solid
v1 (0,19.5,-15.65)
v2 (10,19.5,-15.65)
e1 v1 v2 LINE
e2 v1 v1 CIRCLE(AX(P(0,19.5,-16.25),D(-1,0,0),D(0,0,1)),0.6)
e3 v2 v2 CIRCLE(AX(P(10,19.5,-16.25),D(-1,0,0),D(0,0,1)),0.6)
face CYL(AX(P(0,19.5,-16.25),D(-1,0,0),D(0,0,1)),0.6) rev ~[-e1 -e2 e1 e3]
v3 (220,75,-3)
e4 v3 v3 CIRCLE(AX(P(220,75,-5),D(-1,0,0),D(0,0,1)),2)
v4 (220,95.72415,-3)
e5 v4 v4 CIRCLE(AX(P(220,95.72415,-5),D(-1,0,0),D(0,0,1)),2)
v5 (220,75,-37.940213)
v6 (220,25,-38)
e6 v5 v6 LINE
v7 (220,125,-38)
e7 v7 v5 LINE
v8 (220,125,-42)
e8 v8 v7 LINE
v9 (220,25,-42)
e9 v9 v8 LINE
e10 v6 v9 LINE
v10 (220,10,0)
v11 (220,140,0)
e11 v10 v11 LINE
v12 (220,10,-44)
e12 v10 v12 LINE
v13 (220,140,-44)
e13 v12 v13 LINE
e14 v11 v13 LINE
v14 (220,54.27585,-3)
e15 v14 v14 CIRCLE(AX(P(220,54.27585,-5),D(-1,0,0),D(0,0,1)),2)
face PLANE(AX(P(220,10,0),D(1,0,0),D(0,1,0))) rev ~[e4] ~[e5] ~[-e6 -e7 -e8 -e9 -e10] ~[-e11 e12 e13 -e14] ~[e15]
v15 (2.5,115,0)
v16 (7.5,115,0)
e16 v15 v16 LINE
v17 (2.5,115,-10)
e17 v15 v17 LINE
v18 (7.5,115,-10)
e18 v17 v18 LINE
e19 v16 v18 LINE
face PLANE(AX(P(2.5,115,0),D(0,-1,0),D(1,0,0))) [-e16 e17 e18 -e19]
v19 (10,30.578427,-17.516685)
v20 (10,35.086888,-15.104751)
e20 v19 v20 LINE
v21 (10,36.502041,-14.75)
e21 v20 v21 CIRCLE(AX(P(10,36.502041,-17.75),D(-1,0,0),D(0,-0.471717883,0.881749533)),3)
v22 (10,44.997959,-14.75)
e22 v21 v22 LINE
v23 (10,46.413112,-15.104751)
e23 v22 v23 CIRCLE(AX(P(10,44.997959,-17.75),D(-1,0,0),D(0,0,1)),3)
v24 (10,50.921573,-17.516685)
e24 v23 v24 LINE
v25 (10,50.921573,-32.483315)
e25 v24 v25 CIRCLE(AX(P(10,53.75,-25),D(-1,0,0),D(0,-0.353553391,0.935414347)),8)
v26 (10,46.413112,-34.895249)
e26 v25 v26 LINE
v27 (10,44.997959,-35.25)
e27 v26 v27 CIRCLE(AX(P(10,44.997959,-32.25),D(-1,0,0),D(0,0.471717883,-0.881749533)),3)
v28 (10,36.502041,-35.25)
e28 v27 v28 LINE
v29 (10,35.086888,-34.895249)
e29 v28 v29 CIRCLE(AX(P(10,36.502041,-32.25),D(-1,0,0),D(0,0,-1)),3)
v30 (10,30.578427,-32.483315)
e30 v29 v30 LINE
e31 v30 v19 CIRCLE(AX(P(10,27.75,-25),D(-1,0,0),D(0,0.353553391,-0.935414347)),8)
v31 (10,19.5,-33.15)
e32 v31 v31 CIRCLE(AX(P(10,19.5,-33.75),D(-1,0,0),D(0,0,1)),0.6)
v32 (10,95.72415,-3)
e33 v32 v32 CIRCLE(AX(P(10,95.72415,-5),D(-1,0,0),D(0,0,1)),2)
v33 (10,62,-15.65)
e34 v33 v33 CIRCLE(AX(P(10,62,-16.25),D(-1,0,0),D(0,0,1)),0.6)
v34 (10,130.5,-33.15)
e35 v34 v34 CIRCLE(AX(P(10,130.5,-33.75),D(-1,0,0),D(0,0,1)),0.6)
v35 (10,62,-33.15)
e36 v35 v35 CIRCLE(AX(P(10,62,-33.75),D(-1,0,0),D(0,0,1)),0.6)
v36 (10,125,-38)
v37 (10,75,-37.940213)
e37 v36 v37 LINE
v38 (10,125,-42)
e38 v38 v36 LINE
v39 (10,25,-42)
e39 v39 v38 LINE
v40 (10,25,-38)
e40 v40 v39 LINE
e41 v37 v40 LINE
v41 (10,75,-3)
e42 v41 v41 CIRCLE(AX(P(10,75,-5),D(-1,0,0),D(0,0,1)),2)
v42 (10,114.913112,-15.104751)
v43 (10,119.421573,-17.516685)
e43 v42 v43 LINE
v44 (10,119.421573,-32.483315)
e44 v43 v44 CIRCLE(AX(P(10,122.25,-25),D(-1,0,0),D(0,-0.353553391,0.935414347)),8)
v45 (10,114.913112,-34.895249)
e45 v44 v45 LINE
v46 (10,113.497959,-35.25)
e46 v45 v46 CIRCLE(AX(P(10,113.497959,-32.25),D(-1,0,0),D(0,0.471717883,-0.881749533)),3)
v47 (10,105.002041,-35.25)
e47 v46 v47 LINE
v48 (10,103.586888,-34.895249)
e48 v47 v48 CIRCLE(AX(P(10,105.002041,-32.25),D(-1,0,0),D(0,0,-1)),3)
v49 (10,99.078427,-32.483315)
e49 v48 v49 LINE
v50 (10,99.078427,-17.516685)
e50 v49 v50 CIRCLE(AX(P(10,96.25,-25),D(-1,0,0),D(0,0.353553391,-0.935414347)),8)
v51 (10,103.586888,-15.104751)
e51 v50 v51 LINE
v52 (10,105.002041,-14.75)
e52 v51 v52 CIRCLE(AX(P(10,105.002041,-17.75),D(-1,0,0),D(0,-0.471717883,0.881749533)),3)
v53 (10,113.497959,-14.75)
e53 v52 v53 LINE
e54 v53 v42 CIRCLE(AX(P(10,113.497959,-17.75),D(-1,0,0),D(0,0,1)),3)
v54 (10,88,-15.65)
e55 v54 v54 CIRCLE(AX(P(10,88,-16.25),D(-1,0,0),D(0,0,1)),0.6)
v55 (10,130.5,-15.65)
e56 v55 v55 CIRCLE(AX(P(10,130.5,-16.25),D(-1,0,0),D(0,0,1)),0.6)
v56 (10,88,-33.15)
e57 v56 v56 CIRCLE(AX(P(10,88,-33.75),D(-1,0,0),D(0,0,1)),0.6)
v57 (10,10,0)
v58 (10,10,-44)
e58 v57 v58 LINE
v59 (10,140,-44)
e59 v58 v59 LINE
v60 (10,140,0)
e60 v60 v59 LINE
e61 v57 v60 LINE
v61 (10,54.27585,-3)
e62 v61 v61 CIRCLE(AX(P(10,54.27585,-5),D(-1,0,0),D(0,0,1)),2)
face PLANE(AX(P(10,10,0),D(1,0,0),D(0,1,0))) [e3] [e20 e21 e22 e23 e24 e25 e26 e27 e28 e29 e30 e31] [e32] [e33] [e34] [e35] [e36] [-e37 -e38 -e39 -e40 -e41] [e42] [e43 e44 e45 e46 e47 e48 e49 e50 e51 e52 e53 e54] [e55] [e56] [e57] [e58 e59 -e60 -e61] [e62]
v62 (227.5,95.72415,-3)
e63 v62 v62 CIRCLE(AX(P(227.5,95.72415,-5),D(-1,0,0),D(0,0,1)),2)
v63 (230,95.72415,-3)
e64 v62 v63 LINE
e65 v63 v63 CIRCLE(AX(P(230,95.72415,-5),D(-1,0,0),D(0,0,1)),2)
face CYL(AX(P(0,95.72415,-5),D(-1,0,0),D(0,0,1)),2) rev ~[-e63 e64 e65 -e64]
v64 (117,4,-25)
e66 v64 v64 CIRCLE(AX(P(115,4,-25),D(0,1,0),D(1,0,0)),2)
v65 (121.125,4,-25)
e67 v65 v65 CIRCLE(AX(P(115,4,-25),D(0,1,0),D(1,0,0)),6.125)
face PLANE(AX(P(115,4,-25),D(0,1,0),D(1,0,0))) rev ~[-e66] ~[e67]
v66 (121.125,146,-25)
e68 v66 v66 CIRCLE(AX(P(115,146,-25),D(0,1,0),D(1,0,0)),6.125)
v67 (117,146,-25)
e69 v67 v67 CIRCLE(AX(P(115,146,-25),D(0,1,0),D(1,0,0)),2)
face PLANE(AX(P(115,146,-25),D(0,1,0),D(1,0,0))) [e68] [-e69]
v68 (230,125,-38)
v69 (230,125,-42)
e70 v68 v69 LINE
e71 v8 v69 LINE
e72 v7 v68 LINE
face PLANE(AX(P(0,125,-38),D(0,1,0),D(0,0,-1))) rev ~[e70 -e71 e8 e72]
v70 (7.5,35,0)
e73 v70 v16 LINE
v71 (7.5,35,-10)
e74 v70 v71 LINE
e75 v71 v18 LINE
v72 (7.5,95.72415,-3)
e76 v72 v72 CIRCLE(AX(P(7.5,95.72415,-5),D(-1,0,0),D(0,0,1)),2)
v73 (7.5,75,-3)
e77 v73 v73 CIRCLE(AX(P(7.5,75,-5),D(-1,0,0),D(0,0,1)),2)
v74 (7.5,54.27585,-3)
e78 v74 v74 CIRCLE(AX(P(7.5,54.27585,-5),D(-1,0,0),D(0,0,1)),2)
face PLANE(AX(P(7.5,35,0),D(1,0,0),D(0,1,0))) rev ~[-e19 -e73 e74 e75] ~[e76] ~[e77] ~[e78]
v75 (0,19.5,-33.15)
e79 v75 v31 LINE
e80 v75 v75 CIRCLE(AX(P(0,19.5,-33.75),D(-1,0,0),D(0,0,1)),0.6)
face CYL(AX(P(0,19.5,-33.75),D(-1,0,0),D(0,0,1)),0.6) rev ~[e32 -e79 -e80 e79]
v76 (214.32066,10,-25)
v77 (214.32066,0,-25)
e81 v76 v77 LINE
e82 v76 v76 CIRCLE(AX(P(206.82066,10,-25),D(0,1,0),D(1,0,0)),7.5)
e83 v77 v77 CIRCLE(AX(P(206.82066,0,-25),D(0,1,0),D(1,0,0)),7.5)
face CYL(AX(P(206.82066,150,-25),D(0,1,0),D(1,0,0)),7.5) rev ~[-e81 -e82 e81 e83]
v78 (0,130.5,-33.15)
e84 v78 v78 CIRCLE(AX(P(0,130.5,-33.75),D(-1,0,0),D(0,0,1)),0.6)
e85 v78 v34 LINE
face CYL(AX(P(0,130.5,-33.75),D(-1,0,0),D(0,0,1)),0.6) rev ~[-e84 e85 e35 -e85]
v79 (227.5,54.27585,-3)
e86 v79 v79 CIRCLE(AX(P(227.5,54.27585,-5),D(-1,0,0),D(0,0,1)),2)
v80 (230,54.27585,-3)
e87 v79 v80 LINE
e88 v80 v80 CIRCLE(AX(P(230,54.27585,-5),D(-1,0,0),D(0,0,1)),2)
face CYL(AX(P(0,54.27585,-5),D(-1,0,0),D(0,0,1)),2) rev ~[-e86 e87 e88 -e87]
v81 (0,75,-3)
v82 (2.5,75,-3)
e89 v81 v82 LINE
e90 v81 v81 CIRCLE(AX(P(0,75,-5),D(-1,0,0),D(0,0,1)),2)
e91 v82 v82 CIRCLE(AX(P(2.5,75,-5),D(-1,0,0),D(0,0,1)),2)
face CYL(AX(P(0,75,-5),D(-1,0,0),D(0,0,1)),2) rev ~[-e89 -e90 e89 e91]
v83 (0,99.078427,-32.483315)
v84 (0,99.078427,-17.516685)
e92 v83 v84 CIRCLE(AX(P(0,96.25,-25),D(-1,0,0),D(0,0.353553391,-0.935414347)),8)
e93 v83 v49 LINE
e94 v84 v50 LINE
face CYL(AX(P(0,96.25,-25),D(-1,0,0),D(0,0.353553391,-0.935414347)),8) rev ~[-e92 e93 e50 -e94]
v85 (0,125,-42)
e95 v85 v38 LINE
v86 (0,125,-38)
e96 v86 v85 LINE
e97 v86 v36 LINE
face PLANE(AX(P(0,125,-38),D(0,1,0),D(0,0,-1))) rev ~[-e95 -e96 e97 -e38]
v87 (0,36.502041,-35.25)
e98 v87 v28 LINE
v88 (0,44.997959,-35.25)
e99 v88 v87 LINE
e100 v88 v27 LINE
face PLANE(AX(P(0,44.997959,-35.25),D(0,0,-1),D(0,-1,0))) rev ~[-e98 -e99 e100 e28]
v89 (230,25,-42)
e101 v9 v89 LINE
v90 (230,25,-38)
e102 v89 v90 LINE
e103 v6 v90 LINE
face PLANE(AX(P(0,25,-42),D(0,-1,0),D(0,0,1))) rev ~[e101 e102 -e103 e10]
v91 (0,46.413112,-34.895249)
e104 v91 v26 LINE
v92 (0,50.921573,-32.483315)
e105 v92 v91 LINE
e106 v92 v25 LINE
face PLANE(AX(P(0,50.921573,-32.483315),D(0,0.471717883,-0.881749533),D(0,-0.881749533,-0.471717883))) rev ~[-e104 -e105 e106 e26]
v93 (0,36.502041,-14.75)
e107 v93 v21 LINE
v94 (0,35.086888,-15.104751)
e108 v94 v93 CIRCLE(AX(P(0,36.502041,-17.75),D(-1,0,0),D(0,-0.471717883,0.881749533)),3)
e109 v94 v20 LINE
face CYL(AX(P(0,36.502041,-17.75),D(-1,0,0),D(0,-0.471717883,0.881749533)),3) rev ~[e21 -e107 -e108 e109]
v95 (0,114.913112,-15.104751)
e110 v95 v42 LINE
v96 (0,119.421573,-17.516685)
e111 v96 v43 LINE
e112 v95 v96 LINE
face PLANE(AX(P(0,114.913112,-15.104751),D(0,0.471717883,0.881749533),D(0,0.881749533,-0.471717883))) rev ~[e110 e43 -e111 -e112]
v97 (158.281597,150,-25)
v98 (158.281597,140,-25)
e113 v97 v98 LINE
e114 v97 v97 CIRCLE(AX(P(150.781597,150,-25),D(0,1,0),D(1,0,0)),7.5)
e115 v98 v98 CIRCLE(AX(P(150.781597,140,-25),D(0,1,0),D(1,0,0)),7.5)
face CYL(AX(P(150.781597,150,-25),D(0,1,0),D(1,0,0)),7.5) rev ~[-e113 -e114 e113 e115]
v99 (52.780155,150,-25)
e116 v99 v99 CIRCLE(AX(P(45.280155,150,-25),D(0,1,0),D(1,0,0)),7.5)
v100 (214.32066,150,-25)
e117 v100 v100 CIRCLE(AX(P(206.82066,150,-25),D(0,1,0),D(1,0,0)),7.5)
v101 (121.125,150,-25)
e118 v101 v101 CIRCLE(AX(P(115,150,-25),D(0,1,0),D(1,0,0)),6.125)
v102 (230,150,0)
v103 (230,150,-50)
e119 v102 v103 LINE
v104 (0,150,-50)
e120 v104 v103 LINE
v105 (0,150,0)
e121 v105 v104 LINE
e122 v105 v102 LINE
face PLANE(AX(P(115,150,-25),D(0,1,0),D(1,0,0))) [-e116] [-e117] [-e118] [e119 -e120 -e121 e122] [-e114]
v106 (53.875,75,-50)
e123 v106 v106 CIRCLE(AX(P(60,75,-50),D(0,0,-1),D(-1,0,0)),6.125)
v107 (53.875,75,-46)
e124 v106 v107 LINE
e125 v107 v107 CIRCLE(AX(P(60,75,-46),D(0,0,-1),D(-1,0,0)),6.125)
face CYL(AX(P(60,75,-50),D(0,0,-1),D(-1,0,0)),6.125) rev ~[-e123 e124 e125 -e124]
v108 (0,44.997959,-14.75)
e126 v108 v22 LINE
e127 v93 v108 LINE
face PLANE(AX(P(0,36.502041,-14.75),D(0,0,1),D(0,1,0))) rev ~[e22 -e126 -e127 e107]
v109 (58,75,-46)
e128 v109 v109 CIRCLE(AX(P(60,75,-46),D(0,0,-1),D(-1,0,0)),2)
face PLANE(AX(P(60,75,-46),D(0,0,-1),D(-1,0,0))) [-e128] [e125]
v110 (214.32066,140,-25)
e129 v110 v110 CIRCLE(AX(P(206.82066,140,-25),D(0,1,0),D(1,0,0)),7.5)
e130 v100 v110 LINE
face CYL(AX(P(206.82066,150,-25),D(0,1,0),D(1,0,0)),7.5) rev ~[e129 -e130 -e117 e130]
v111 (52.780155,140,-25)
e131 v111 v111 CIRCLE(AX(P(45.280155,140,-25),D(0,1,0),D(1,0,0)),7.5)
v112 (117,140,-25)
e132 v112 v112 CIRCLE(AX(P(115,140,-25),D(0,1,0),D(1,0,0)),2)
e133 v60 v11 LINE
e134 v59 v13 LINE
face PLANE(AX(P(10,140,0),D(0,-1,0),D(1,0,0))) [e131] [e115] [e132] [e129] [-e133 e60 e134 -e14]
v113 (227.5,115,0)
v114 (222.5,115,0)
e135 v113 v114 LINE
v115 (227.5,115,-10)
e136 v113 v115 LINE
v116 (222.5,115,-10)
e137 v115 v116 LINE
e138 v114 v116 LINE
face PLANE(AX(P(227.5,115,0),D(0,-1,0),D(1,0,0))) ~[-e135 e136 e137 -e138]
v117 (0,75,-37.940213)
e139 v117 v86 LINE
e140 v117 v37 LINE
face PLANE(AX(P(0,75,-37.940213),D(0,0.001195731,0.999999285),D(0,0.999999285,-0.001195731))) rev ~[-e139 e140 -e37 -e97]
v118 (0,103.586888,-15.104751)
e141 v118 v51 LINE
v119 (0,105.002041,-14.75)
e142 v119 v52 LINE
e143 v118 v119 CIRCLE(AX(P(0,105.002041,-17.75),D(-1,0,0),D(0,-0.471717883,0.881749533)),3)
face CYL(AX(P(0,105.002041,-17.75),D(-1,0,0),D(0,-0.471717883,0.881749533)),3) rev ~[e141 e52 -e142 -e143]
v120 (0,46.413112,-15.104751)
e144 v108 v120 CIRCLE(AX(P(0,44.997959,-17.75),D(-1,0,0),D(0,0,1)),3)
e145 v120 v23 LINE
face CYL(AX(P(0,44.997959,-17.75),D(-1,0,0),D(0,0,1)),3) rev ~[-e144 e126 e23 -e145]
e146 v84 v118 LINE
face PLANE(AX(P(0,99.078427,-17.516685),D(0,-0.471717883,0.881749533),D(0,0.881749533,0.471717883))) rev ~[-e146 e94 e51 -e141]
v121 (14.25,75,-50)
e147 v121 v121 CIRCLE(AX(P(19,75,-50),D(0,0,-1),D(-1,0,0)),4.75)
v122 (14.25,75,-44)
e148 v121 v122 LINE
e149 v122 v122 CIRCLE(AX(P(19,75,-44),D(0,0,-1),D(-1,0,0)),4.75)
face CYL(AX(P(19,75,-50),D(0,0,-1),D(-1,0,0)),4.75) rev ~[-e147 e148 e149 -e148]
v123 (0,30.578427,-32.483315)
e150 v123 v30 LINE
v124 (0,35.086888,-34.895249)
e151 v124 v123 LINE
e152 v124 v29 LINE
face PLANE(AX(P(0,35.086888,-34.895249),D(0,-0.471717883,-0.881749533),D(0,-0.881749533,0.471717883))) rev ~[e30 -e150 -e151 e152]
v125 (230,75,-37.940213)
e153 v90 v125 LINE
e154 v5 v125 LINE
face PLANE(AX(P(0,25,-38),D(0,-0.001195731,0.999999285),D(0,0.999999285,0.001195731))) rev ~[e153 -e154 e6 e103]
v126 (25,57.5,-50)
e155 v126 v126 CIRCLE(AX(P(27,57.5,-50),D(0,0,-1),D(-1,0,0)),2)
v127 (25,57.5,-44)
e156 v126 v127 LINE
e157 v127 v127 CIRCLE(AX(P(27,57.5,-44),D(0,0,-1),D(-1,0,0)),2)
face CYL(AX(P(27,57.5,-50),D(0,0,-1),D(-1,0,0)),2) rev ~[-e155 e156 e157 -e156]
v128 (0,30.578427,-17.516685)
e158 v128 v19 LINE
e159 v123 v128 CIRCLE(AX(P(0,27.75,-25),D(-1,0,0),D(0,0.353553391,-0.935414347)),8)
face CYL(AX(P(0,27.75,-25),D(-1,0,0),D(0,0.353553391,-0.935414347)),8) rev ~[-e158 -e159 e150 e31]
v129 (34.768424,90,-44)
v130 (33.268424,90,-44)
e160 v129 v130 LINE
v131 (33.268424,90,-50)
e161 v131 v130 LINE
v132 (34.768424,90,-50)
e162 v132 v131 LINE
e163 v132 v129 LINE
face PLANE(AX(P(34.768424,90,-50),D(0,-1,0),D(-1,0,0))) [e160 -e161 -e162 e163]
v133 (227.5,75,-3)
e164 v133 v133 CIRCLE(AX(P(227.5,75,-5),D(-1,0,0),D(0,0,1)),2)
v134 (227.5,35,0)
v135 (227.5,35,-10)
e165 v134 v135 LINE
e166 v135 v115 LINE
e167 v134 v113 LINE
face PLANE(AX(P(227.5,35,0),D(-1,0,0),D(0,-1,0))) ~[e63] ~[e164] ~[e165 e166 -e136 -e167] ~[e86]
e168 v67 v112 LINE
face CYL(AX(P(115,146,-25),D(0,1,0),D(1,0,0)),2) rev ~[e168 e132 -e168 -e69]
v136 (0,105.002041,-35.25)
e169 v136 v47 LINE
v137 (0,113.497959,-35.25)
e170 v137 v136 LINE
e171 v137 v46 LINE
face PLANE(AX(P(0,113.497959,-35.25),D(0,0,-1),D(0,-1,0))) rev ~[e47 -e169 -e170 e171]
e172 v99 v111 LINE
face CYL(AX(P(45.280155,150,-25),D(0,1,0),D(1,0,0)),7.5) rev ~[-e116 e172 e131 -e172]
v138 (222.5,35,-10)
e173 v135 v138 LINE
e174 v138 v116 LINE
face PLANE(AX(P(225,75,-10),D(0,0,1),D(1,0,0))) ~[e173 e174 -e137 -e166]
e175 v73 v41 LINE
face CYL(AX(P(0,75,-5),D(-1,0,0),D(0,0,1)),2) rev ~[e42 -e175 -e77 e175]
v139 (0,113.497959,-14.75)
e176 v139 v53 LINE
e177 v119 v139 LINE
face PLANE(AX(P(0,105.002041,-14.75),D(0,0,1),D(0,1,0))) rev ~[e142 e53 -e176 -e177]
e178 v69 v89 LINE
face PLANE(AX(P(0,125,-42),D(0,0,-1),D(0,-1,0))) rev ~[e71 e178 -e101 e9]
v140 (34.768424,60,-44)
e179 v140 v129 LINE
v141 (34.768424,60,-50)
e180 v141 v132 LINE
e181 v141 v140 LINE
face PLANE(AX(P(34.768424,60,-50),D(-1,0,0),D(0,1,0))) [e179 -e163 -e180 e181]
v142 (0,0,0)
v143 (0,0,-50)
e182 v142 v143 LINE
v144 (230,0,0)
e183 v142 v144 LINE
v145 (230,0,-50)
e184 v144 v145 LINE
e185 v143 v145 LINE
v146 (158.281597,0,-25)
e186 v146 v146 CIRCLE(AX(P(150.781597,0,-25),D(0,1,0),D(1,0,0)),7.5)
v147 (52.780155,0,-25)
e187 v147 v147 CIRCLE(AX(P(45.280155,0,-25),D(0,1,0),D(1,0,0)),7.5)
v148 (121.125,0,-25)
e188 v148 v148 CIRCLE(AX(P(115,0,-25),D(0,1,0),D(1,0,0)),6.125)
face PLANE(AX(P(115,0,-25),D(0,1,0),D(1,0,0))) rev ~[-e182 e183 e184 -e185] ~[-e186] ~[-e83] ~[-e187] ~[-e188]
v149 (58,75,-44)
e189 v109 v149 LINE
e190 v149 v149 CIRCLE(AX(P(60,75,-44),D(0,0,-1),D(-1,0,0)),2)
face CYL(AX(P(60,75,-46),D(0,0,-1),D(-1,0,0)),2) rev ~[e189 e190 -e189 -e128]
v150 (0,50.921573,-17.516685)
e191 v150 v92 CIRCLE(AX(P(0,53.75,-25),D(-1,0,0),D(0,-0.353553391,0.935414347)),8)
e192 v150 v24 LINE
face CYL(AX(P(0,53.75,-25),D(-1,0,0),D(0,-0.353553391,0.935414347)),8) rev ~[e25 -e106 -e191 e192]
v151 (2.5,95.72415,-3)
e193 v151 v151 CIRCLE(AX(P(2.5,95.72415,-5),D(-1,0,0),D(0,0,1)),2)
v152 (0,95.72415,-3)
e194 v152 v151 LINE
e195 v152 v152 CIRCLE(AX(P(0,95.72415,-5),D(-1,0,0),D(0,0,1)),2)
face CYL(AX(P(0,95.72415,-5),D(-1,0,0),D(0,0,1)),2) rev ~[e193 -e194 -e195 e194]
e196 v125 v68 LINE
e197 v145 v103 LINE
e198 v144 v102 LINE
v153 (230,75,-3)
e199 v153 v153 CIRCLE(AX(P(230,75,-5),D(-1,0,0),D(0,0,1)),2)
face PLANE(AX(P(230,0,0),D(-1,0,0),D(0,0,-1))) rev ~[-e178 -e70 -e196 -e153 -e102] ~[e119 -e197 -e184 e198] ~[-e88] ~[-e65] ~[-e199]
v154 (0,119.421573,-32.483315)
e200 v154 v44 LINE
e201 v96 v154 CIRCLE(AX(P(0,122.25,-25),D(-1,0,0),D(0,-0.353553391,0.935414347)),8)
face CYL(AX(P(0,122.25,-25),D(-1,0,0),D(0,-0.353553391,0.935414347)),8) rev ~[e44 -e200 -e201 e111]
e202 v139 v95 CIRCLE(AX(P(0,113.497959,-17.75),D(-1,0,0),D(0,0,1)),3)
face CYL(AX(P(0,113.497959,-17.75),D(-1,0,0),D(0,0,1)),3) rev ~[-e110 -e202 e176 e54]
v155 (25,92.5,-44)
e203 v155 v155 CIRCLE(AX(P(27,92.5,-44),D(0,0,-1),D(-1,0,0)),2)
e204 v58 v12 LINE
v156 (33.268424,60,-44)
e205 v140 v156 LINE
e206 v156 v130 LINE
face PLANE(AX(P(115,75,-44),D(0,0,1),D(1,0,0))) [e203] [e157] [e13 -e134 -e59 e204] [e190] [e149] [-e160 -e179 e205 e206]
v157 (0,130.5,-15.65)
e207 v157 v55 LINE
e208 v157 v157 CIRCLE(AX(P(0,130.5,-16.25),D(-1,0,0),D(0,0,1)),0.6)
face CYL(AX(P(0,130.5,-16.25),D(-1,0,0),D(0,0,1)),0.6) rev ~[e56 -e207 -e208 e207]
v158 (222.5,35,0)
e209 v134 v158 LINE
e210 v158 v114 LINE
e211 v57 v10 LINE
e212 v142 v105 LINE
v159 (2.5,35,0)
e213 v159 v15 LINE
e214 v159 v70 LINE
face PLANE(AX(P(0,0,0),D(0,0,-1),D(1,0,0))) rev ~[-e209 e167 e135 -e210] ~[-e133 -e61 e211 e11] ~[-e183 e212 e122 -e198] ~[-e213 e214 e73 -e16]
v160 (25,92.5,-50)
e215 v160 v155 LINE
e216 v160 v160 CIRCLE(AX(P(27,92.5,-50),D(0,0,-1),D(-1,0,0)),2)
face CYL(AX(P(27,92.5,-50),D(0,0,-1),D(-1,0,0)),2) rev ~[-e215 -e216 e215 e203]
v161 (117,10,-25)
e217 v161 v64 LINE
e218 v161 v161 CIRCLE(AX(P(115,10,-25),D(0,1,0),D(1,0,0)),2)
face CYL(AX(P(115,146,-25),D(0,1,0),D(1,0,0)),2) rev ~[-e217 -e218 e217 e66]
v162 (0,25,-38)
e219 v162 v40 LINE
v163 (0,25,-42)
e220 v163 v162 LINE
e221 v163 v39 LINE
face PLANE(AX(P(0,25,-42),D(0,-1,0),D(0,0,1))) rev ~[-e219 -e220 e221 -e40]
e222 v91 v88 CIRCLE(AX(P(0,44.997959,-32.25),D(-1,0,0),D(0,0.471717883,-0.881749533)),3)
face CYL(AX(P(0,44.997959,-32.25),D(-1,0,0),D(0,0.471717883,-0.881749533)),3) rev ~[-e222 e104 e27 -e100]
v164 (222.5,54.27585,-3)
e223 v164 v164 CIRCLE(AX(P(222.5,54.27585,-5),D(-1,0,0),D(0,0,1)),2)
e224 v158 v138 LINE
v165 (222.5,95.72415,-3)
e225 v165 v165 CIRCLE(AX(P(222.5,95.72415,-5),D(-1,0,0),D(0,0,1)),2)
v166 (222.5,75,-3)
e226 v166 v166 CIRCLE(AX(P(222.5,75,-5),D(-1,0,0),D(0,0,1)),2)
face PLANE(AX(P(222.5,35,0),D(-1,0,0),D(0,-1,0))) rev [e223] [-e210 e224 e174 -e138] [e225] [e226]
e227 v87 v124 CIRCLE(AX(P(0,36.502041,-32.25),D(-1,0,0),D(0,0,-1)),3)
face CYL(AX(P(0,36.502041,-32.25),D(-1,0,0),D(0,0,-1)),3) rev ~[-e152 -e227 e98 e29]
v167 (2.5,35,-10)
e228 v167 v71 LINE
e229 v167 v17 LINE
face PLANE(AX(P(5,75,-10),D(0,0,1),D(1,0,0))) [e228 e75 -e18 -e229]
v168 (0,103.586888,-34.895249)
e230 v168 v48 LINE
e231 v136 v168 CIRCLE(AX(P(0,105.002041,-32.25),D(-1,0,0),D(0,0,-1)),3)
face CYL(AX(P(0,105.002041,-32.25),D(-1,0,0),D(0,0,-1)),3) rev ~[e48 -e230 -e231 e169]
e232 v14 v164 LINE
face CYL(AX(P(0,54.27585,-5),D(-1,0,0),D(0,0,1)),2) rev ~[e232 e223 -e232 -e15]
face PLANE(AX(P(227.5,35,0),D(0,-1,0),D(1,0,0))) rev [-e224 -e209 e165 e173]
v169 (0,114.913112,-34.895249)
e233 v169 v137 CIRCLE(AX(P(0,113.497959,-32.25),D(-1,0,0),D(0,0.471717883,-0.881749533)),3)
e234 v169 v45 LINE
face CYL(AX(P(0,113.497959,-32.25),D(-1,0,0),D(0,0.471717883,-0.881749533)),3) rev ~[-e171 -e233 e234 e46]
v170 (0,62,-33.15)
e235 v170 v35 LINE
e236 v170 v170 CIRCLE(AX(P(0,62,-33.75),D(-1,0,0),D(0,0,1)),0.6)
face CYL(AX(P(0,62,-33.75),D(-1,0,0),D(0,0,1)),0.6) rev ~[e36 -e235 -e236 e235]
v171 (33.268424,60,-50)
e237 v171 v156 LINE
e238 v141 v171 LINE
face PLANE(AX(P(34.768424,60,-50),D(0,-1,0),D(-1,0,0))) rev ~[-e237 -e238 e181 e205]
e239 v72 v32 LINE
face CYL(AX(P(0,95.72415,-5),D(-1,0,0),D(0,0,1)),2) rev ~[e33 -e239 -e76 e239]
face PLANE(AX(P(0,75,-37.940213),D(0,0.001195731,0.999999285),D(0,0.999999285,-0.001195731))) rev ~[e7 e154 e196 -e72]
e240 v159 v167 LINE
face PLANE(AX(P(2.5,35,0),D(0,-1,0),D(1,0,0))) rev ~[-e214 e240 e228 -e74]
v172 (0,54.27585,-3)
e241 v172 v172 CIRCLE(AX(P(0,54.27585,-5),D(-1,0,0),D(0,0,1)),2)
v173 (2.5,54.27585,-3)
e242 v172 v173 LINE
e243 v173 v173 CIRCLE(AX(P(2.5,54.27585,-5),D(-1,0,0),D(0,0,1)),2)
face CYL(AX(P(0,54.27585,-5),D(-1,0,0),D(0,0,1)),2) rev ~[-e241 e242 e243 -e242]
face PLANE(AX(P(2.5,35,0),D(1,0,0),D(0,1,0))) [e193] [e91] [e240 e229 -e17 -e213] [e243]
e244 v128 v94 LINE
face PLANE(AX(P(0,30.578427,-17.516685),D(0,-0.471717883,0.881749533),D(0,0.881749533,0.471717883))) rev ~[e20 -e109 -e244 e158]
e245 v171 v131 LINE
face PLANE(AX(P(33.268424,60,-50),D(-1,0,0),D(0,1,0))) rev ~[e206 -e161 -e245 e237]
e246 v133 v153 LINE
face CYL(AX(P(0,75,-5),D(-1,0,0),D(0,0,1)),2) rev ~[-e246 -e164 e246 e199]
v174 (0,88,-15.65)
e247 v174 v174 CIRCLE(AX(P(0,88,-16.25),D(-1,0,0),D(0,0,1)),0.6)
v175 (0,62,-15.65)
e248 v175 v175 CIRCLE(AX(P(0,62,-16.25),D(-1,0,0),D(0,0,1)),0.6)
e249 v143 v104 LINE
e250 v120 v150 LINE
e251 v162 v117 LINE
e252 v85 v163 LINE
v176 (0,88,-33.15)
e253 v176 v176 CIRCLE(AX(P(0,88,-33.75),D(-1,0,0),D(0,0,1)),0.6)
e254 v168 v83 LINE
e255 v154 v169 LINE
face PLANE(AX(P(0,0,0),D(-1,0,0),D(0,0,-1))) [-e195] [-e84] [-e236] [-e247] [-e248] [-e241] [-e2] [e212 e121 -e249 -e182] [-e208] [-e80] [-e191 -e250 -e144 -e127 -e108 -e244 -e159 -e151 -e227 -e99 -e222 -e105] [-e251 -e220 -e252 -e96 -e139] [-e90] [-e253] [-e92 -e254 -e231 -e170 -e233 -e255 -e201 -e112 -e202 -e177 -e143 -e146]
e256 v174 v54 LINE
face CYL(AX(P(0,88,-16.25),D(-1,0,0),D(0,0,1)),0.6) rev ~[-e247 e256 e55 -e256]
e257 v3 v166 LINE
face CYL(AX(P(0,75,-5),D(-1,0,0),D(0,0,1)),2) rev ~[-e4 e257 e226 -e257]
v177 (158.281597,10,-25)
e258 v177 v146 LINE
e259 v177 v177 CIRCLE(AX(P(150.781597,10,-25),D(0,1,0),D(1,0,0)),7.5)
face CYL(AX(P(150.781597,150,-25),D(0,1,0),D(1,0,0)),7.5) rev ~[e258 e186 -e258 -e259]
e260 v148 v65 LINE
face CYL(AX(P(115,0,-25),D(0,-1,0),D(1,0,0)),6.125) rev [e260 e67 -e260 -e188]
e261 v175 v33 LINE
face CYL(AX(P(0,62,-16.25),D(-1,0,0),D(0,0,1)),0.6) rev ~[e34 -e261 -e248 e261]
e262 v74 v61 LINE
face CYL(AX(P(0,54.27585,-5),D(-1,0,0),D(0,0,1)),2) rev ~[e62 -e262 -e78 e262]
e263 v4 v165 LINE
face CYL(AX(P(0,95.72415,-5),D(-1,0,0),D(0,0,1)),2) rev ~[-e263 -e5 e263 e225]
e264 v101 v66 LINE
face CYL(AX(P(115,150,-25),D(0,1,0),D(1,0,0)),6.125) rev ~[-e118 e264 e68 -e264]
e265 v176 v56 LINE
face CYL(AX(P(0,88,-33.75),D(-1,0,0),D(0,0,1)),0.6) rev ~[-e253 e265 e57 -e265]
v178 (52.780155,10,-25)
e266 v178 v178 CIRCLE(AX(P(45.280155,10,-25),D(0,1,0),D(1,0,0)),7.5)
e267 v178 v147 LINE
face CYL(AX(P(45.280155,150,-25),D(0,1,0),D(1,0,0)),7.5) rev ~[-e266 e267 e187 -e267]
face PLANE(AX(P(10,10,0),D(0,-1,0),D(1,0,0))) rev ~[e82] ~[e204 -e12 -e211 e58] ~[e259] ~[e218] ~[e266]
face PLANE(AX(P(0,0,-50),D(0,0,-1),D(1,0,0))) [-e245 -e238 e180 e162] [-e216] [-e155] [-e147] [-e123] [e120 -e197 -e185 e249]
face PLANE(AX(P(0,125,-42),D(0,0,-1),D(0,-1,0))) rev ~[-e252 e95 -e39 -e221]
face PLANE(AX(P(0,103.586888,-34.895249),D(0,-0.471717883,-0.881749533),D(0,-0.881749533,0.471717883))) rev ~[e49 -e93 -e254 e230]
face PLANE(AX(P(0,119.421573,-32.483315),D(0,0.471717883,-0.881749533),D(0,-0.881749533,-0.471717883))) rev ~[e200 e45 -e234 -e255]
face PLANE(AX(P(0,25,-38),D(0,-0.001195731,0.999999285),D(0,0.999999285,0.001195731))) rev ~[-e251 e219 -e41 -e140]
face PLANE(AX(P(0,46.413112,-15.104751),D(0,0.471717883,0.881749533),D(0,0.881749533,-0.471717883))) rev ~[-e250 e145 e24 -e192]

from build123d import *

# Parameters (mm, degrees)
SKETCH1_W           = 230
SKETCH1_H           = 50
BOSS_EXTRUDE1_DEPTH = 150
SKETCH2_W           = 210
SKETCH2_H           = 130
CUT_EXTRUDE1_DEPTH  = 44
SKETCH3_R           = 6.125
CUT_EXTRUDE2_DEPTH  = 4
SKETCH4_R           = 6.125
CUT_EXTRUDE4_DEPTH  = 4
SKETCH5_R           = 6.125
CUT_EXTRUDE5_DEPTH  = 4
SKETCH7_R           = 2
CUT_EXTRUDE7_DEPTH  = 47
SKETCH8_R           = 2
CUT_EXTRUDE8_DEPTH  = 147
CUT_EXTRUDE9_REACH  = 52
SKETCH10_R          = 2
SKETCH10_R_2        = 4.75
SKETCH10_W          = 1.5
SKETCH10_H          = 30
SKETCH11_R          = 7.5
CUT_EXTRUDE10_DEPTH = 151
CUT_EXTRUDE12_REACH = 232
SKETCH14_R          = 0.6
SKETCH15_W          = 5
SKETCH15_H          = 80
CUT_EXTRUDE13_DEPTH = 10
SKETCH16_R          = 2
CUT_EXTRUDE14_DEPTH = 231
CUT_EXTRUDE15_DEPTH = 231


with BuildPart() as part:
    # Sketch1 → Boss-Extrude1 (new body)
    with BuildSketch(Plane(origin=(0, 0, 0), x_dir=(1, 0, 0), z_dir=(0, 1, 0))):
        with Locations((115, 25)):
            Rectangle(SKETCH1_W, SKETCH1_H)
    extrude(amount=BOSS_EXTRUDE1_DEPTH)

    # Sketch2 → Cut-Extrude1 (cut)
    with BuildSketch(Plane.XY):
        with Locations((115, 75)):
            Rectangle(SKETCH2_W, SKETCH2_H)
    extrude(amount=-CUT_EXTRUDE1_DEPTH, mode=Mode.SUBTRACT)

    # Sketch3 → Cut-Extrude2 (cut)
    with BuildSketch(Plane(origin=(0, 150, 0), x_dir=(1, 0, 0), z_dir=(0, 1, 0))):
        with Locations((115, 25)):
            Circle(SKETCH3_R)
    extrude(amount=-CUT_EXTRUDE2_DEPTH, mode=Mode.SUBTRACT)

    # Sketch4 → Cut-Extrude4 (cut)
    with BuildSketch(Plane(origin=(0, 0, 0), x_dir=(1, 0, 0), z_dir=(0, 1, 0))):
        with Locations((115, 25)):
            Circle(SKETCH4_R)
    extrude(amount=CUT_EXTRUDE4_DEPTH, mode=Mode.SUBTRACT)

    # Sketch5 → Cut-Extrude5 (cut)
    with BuildSketch(Plane(origin=(0, 0, -50), x_dir=(-1, 0, 0), z_dir=(0, 0, -1))):
        with Locations((-60, 75)):
            Circle(SKETCH5_R)
    extrude(amount=-CUT_EXTRUDE5_DEPTH, mode=Mode.SUBTRACT)

    # Sketch7 → Cut-Extrude7 (cut, through all)
    with BuildSketch(Plane(origin=(0, 0, -46), x_dir=(-1, 0, 0), z_dir=(0, 0, -1))):
        with Locations((-60, 75)):
            Circle(SKETCH7_R)
    extrude(amount=-CUT_EXTRUDE7_DEPTH, mode=Mode.SUBTRACT)

    # Sketch8 → Cut-Extrude8 (cut, through all)
    with BuildSketch(Plane(origin=(0, 146, 0), x_dir=(1, 0, 0), z_dir=(0, 1, 0))):
        with Locations((115, 25)):
            Circle(SKETCH8_R)
    extrude(amount=-CUT_EXTRUDE8_DEPTH, mode=Mode.SUBTRACT)

    # Sketch10 → Cut-Extrude9 (cut, up to next)
    with BuildSketch(Plane(origin=(0, 0, -50), x_dir=(-1, 0, 0), z_dir=(0, 0, -1)), mode=Mode.PRIVATE) as cut_extrude9_sk1:
        with Locations((-27, 92.5)):
            Circle(SKETCH10_R)
    cut_extrude9_tool1 = extrude(cut_extrude9_sk1.sketch, amount=-CUT_EXTRUDE9_REACH, mode=Mode.PRIVATE) & part.part
    add(cut_extrude9_tool1.solids().sort_by_distance((27, 92.5, -50))[0], mode=Mode.SUBTRACT)
    # Sketch10 → Cut-Extrude9 (cut, up to next)
    with BuildSketch(Plane(origin=(0, 0, -50), x_dir=(-1, 0, 0), z_dir=(0, 0, -1)), mode=Mode.PRIVATE) as cut_extrude9_sk2:
        with Locations((-27, 57.5)):
            Circle(SKETCH10_R)
    cut_extrude9_tool2 = extrude(cut_extrude9_sk2.sketch, amount=-CUT_EXTRUDE9_REACH, mode=Mode.PRIVATE) & part.part
    add(cut_extrude9_tool2.solids().sort_by_distance((27, 57.5, -50))[0], mode=Mode.SUBTRACT)
    # Sketch10 → Cut-Extrude9 (cut, up to next)
    with BuildSketch(Plane(origin=(0, 0, -50), x_dir=(-1, 0, 0), z_dir=(0, 0, -1)), mode=Mode.PRIVATE) as cut_extrude9_sk3:
        with Locations((-19, 75)):
            Circle(SKETCH10_R_2)
    cut_extrude9_tool3 = extrude(cut_extrude9_sk3.sketch, amount=-CUT_EXTRUDE9_REACH, mode=Mode.PRIVATE) & part.part
    add(cut_extrude9_tool3.solids().sort_by_distance((19, 75, -50))[0], mode=Mode.SUBTRACT)
    # Sketch10 → Cut-Extrude9 (cut, up to next)
    with BuildSketch(Plane(origin=(0, 0, -50), x_dir=(-1, 0, 0), z_dir=(0, 0, -1)), mode=Mode.PRIVATE) as cut_extrude9_sk4:
        with Locations((-34.018423534, 75)):
            Rectangle(SKETCH10_W, SKETCH10_H)
    cut_extrude9_tool4 = extrude(cut_extrude9_sk4.sketch, amount=-CUT_EXTRUDE9_REACH, mode=Mode.PRIVATE) & part.part
    add(cut_extrude9_tool4.solids().sort_by_distance((34.018424, 75, -50))[0], mode=Mode.SUBTRACT)

    # Sketch11 → Cut-Extrude10 (cut, through all)
    with BuildSketch(Plane(origin=(0, 150, 0), x_dir=(1, 0, 0), z_dir=(0, 1, 0))):
        with Locations((45.280155496, 25)):
            Circle(SKETCH11_R)
        with Locations((150.781597071, 25)):
            Circle(SKETCH11_R)
        with Locations((206.820659907, 25)):
            Circle(SKETCH11_R)
    extrude(amount=-CUT_EXTRUDE10_DEPTH, mode=Mode.SUBTRACT)

    # Sketch14 → Cut-Extrude12 (cut, up to next)
    with BuildSketch(Plane.ZY, mode=Mode.PRIVATE) as cut_extrude12_sk1:
        with Locations((-33.75, 62)):
            Circle(SKETCH14_R)
    cut_extrude12_tool1 = extrude(cut_extrude12_sk1.sketch, amount=-CUT_EXTRUDE12_REACH, mode=Mode.PRIVATE) & part.part
    add(cut_extrude12_tool1.solids().sort_by_distance((0, 62, -33.75))[0], mode=Mode.SUBTRACT)
    # Sketch14 → Cut-Extrude12 (cut, up to next)
    with BuildSketch(Plane.ZY, mode=Mode.PRIVATE) as cut_extrude12_sk2:
        with Locations((-16.25, 19.5)):
            Circle(SKETCH14_R)
    cut_extrude12_tool2 = extrude(cut_extrude12_sk2.sketch, amount=-CUT_EXTRUDE12_REACH, mode=Mode.PRIVATE) & part.part
    add(cut_extrude12_tool2.solids().sort_by_distance((0, 19.5, -16.25))[0], mode=Mode.SUBTRACT)
    # Sketch14 → Cut-Extrude12 (cut, up to next)
    with BuildSketch(Plane.ZY, mode=Mode.PRIVATE) as cut_extrude12_sk3:
        with Locations((-16.25, 62)):
            Circle(SKETCH14_R)
    cut_extrude12_tool3 = extrude(cut_extrude12_sk3.sketch, amount=-CUT_EXTRUDE12_REACH, mode=Mode.PRIVATE) & part.part
    add(cut_extrude12_tool3.solids().sort_by_distance((0, 62, -16.25))[0], mode=Mode.SUBTRACT)
    # Sketch14 → Cut-Extrude12 (cut, up to next)
    with BuildSketch(Plane.ZY, mode=Mode.PRIVATE) as cut_extrude12_sk4:
        with Locations((-33.75, 19.5)):
            Circle(SKETCH14_R)
    cut_extrude12_tool4 = extrude(cut_extrude12_sk4.sketch, amount=-CUT_EXTRUDE12_REACH, mode=Mode.PRIVATE) & part.part
    add(cut_extrude12_tool4.solids().sort_by_distance((0, 19.5, -33.75))[0], mode=Mode.SUBTRACT)
    # Sketch14 → Cut-Extrude12 (cut, up to next)
    with BuildSketch(Plane.ZY, mode=Mode.PRIVATE) as cut_extrude12_sk5:
        with Locations((-33.75, 130.5)):
            Circle(SKETCH14_R)
    cut_extrude12_tool5 = extrude(cut_extrude12_sk5.sketch, amount=-CUT_EXTRUDE12_REACH, mode=Mode.PRIVATE) & part.part
    add(cut_extrude12_tool5.solids().sort_by_distance((0, 130.5, -33.75))[0], mode=Mode.SUBTRACT)
    # Sketch14 → Cut-Extrude12 (cut, up to next)
    with BuildSketch(Plane.ZY, mode=Mode.PRIVATE) as cut_extrude12_sk6:
        with Locations((-16.25, 88)):
            Circle(SKETCH14_R)
    cut_extrude12_tool6 = extrude(cut_extrude12_sk6.sketch, amount=-CUT_EXTRUDE12_REACH, mode=Mode.PRIVATE) & part.part
    add(cut_extrude12_tool6.solids().sort_by_distance((0, 88, -16.25))[0], mode=Mode.SUBTRACT)
    # Sketch14 → Cut-Extrude12 (cut, up to next)
    with BuildSketch(Plane.ZY, mode=Mode.PRIVATE) as cut_extrude12_sk7:
        with Locations((-16.25, 130.5)):
            Circle(SKETCH14_R)
    cut_extrude12_tool7 = extrude(cut_extrude12_sk7.sketch, amount=-CUT_EXTRUDE12_REACH, mode=Mode.PRIVATE) & part.part
    add(cut_extrude12_tool7.solids().sort_by_distance((0, 130.5, -16.25))[0], mode=Mode.SUBTRACT)
    # Sketch14 → Cut-Extrude12 (cut, up to next)
    with BuildSketch(Plane.ZY, mode=Mode.PRIVATE) as cut_extrude12_sk8:
        with Locations((-33.75, 88)):
            Circle(SKETCH14_R)
    cut_extrude12_tool8 = extrude(cut_extrude12_sk8.sketch, amount=-CUT_EXTRUDE12_REACH, mode=Mode.PRIVATE) & part.part
    add(cut_extrude12_tool8.solids().sort_by_distance((0, 88, -33.75))[0], mode=Mode.SUBTRACT)
    # Sketch14 → Cut-Extrude12 (cut, up to next)
    with BuildSketch(Plane.ZY, mode=Mode.PRIVATE) as cut_extrude12_sk9:
        with BuildLine():
            Line((-35.25, 44.99795855), (-35.25, 36.50204145))
            ThreePointArc((-35.25, 36.50204145), (-35.159960979, 35.772571025), (-34.895248599, 35.086887802))
            Line((-34.895248599, 35.086887802), (-32.483314774, 30.578427125))
            ThreePointArc((-32.483314774, 30.578427125), (-25, 19.75), (-17.516685226, 30.578427125))
            Line((-17.516685226, 30.578427125), (-15.104751401, 35.086887802))
            ThreePointArc((-15.104751401, 35.086887802), (-14.840039021, 35.772571025), (-14.75, 36.50204145))
            Line((-14.75, 36.50204145), (-14.75, 44.99795855))
            ThreePointArc((-14.75, 44.99795855), (-14.840039021, 45.727428975), (-15.104751401, 46.413112198))
            Line((-15.104751401, 46.413112198), (-17.516685226, 50.921572875))
            ThreePointArc((-17.516685226, 50.921572875), (-25, 61.75), (-32.483314774, 50.921572875))
            Line((-32.483314774, 50.921572875), (-34.895248599, 46.413112198))
            ThreePointArc((-34.895248599, 46.413112198), (-35.159960979, 45.727428975), (-35.25, 44.99795855))
        make_face()
    cut_extrude12_tool9 = extrude(cut_extrude12_sk9.sketch, amount=-CUT_EXTRUDE12_REACH, mode=Mode.PRIVATE) & part.part
    add(cut_extrude12_tool9.solids().sort_by_distance((0, 40.75, -25))[0], mode=Mode.SUBTRACT)
    # Sketch14 → Cut-Extrude12 (cut, up to next)
    with BuildSketch(Plane.ZY, mode=Mode.PRIVATE) as cut_extrude12_sk10:
        with BuildLine():
            Line((-34.895248599, 103.586887802), (-32.483314774, 99.078427125))
            ThreePointArc((-32.483314774, 99.078427125), (-25, 88.25), (-17.516685226, 99.078427125))
            Line((-17.516685226, 99.078427125), (-15.104751401, 103.586887802))
            ThreePointArc((-15.104751401, 103.586887802), (-14.840039021, 104.272571025), (-14.75, 105.00204145))
            Line((-14.75, 105.00204145), (-14.75, 113.49795855))
            ThreePointArc((-14.75, 113.49795855), (-14.840039021, 114.227428975), (-15.104751401, 114.913112198))
            Line((-15.104751401, 114.913112198), (-17.516685226, 119.421572875))
            ThreePointArc((-17.516685226, 119.421572875), (-25, 130.25), (-32.483314774, 119.421572875))
            Line((-32.483314774, 119.421572875), (-34.895248599, 114.913112198))
            ThreePointArc((-34.895248599, 114.913112198), (-35.159960979, 114.227428975), (-35.25, 113.49795855))
            Line((-35.25, 113.49795855), (-35.25, 105.00204145))
            ThreePointArc((-35.25, 105.00204145), (-35.159960979, 104.272571025), (-34.895248599, 103.586887802))
        make_face()
    cut_extrude12_tool10 = extrude(cut_extrude12_sk10.sketch, amount=-CUT_EXTRUDE12_REACH, mode=Mode.PRIVATE) & part.part
    add(cut_extrude12_tool10.solids().sort_by_distance((0, 109.25, -25))[0], mode=Mode.SUBTRACT)

    # Sketch15 → Cut-Extrude13 (cut)
    with BuildSketch(Plane.XY):
        with Locations((5, 75)):
            Rectangle(SKETCH15_W, SKETCH15_H)
    cut_extrude13 = extrude(amount=-CUT_EXTRUDE13_DEPTH, mode=Mode.SUBTRACT)

    # Sketch16 → Cut-Extrude14 (cut, through all)
    with BuildSketch(Plane.ZY):
        with Locations((-5, 54.275849875)):
            Circle(SKETCH16_R)
        with Locations((-5, 75)):
            Circle(SKETCH16_R)
        with Locations((-5, 95.724150125)):
            Circle(SKETCH16_R)
    extrude(amount=-CUT_EXTRUDE14_DEPTH, mode=Mode.SUBTRACT)

    # Sketch17 → Cut-Extrude15 (cut, through all)
    with BuildSketch(Plane.ZY):
        Polygon((-38, 25), (-37.940213387, 75), (-38, 125), (-42, 125), (-42, 25), align=None)
    extrude(amount=-CUT_EXTRUDE15_DEPTH, mode=Mode.SUBTRACT)

    # Mirror1: Cut-Extrude13 across plane
    add(cut_extrude13.mirror(Plane(origin=(115, 0, 0), x_dir=(0, 0, 1), z_dir=(1, 0, 0))), mode=Mode.SUBTRACT)


solid = part.part
